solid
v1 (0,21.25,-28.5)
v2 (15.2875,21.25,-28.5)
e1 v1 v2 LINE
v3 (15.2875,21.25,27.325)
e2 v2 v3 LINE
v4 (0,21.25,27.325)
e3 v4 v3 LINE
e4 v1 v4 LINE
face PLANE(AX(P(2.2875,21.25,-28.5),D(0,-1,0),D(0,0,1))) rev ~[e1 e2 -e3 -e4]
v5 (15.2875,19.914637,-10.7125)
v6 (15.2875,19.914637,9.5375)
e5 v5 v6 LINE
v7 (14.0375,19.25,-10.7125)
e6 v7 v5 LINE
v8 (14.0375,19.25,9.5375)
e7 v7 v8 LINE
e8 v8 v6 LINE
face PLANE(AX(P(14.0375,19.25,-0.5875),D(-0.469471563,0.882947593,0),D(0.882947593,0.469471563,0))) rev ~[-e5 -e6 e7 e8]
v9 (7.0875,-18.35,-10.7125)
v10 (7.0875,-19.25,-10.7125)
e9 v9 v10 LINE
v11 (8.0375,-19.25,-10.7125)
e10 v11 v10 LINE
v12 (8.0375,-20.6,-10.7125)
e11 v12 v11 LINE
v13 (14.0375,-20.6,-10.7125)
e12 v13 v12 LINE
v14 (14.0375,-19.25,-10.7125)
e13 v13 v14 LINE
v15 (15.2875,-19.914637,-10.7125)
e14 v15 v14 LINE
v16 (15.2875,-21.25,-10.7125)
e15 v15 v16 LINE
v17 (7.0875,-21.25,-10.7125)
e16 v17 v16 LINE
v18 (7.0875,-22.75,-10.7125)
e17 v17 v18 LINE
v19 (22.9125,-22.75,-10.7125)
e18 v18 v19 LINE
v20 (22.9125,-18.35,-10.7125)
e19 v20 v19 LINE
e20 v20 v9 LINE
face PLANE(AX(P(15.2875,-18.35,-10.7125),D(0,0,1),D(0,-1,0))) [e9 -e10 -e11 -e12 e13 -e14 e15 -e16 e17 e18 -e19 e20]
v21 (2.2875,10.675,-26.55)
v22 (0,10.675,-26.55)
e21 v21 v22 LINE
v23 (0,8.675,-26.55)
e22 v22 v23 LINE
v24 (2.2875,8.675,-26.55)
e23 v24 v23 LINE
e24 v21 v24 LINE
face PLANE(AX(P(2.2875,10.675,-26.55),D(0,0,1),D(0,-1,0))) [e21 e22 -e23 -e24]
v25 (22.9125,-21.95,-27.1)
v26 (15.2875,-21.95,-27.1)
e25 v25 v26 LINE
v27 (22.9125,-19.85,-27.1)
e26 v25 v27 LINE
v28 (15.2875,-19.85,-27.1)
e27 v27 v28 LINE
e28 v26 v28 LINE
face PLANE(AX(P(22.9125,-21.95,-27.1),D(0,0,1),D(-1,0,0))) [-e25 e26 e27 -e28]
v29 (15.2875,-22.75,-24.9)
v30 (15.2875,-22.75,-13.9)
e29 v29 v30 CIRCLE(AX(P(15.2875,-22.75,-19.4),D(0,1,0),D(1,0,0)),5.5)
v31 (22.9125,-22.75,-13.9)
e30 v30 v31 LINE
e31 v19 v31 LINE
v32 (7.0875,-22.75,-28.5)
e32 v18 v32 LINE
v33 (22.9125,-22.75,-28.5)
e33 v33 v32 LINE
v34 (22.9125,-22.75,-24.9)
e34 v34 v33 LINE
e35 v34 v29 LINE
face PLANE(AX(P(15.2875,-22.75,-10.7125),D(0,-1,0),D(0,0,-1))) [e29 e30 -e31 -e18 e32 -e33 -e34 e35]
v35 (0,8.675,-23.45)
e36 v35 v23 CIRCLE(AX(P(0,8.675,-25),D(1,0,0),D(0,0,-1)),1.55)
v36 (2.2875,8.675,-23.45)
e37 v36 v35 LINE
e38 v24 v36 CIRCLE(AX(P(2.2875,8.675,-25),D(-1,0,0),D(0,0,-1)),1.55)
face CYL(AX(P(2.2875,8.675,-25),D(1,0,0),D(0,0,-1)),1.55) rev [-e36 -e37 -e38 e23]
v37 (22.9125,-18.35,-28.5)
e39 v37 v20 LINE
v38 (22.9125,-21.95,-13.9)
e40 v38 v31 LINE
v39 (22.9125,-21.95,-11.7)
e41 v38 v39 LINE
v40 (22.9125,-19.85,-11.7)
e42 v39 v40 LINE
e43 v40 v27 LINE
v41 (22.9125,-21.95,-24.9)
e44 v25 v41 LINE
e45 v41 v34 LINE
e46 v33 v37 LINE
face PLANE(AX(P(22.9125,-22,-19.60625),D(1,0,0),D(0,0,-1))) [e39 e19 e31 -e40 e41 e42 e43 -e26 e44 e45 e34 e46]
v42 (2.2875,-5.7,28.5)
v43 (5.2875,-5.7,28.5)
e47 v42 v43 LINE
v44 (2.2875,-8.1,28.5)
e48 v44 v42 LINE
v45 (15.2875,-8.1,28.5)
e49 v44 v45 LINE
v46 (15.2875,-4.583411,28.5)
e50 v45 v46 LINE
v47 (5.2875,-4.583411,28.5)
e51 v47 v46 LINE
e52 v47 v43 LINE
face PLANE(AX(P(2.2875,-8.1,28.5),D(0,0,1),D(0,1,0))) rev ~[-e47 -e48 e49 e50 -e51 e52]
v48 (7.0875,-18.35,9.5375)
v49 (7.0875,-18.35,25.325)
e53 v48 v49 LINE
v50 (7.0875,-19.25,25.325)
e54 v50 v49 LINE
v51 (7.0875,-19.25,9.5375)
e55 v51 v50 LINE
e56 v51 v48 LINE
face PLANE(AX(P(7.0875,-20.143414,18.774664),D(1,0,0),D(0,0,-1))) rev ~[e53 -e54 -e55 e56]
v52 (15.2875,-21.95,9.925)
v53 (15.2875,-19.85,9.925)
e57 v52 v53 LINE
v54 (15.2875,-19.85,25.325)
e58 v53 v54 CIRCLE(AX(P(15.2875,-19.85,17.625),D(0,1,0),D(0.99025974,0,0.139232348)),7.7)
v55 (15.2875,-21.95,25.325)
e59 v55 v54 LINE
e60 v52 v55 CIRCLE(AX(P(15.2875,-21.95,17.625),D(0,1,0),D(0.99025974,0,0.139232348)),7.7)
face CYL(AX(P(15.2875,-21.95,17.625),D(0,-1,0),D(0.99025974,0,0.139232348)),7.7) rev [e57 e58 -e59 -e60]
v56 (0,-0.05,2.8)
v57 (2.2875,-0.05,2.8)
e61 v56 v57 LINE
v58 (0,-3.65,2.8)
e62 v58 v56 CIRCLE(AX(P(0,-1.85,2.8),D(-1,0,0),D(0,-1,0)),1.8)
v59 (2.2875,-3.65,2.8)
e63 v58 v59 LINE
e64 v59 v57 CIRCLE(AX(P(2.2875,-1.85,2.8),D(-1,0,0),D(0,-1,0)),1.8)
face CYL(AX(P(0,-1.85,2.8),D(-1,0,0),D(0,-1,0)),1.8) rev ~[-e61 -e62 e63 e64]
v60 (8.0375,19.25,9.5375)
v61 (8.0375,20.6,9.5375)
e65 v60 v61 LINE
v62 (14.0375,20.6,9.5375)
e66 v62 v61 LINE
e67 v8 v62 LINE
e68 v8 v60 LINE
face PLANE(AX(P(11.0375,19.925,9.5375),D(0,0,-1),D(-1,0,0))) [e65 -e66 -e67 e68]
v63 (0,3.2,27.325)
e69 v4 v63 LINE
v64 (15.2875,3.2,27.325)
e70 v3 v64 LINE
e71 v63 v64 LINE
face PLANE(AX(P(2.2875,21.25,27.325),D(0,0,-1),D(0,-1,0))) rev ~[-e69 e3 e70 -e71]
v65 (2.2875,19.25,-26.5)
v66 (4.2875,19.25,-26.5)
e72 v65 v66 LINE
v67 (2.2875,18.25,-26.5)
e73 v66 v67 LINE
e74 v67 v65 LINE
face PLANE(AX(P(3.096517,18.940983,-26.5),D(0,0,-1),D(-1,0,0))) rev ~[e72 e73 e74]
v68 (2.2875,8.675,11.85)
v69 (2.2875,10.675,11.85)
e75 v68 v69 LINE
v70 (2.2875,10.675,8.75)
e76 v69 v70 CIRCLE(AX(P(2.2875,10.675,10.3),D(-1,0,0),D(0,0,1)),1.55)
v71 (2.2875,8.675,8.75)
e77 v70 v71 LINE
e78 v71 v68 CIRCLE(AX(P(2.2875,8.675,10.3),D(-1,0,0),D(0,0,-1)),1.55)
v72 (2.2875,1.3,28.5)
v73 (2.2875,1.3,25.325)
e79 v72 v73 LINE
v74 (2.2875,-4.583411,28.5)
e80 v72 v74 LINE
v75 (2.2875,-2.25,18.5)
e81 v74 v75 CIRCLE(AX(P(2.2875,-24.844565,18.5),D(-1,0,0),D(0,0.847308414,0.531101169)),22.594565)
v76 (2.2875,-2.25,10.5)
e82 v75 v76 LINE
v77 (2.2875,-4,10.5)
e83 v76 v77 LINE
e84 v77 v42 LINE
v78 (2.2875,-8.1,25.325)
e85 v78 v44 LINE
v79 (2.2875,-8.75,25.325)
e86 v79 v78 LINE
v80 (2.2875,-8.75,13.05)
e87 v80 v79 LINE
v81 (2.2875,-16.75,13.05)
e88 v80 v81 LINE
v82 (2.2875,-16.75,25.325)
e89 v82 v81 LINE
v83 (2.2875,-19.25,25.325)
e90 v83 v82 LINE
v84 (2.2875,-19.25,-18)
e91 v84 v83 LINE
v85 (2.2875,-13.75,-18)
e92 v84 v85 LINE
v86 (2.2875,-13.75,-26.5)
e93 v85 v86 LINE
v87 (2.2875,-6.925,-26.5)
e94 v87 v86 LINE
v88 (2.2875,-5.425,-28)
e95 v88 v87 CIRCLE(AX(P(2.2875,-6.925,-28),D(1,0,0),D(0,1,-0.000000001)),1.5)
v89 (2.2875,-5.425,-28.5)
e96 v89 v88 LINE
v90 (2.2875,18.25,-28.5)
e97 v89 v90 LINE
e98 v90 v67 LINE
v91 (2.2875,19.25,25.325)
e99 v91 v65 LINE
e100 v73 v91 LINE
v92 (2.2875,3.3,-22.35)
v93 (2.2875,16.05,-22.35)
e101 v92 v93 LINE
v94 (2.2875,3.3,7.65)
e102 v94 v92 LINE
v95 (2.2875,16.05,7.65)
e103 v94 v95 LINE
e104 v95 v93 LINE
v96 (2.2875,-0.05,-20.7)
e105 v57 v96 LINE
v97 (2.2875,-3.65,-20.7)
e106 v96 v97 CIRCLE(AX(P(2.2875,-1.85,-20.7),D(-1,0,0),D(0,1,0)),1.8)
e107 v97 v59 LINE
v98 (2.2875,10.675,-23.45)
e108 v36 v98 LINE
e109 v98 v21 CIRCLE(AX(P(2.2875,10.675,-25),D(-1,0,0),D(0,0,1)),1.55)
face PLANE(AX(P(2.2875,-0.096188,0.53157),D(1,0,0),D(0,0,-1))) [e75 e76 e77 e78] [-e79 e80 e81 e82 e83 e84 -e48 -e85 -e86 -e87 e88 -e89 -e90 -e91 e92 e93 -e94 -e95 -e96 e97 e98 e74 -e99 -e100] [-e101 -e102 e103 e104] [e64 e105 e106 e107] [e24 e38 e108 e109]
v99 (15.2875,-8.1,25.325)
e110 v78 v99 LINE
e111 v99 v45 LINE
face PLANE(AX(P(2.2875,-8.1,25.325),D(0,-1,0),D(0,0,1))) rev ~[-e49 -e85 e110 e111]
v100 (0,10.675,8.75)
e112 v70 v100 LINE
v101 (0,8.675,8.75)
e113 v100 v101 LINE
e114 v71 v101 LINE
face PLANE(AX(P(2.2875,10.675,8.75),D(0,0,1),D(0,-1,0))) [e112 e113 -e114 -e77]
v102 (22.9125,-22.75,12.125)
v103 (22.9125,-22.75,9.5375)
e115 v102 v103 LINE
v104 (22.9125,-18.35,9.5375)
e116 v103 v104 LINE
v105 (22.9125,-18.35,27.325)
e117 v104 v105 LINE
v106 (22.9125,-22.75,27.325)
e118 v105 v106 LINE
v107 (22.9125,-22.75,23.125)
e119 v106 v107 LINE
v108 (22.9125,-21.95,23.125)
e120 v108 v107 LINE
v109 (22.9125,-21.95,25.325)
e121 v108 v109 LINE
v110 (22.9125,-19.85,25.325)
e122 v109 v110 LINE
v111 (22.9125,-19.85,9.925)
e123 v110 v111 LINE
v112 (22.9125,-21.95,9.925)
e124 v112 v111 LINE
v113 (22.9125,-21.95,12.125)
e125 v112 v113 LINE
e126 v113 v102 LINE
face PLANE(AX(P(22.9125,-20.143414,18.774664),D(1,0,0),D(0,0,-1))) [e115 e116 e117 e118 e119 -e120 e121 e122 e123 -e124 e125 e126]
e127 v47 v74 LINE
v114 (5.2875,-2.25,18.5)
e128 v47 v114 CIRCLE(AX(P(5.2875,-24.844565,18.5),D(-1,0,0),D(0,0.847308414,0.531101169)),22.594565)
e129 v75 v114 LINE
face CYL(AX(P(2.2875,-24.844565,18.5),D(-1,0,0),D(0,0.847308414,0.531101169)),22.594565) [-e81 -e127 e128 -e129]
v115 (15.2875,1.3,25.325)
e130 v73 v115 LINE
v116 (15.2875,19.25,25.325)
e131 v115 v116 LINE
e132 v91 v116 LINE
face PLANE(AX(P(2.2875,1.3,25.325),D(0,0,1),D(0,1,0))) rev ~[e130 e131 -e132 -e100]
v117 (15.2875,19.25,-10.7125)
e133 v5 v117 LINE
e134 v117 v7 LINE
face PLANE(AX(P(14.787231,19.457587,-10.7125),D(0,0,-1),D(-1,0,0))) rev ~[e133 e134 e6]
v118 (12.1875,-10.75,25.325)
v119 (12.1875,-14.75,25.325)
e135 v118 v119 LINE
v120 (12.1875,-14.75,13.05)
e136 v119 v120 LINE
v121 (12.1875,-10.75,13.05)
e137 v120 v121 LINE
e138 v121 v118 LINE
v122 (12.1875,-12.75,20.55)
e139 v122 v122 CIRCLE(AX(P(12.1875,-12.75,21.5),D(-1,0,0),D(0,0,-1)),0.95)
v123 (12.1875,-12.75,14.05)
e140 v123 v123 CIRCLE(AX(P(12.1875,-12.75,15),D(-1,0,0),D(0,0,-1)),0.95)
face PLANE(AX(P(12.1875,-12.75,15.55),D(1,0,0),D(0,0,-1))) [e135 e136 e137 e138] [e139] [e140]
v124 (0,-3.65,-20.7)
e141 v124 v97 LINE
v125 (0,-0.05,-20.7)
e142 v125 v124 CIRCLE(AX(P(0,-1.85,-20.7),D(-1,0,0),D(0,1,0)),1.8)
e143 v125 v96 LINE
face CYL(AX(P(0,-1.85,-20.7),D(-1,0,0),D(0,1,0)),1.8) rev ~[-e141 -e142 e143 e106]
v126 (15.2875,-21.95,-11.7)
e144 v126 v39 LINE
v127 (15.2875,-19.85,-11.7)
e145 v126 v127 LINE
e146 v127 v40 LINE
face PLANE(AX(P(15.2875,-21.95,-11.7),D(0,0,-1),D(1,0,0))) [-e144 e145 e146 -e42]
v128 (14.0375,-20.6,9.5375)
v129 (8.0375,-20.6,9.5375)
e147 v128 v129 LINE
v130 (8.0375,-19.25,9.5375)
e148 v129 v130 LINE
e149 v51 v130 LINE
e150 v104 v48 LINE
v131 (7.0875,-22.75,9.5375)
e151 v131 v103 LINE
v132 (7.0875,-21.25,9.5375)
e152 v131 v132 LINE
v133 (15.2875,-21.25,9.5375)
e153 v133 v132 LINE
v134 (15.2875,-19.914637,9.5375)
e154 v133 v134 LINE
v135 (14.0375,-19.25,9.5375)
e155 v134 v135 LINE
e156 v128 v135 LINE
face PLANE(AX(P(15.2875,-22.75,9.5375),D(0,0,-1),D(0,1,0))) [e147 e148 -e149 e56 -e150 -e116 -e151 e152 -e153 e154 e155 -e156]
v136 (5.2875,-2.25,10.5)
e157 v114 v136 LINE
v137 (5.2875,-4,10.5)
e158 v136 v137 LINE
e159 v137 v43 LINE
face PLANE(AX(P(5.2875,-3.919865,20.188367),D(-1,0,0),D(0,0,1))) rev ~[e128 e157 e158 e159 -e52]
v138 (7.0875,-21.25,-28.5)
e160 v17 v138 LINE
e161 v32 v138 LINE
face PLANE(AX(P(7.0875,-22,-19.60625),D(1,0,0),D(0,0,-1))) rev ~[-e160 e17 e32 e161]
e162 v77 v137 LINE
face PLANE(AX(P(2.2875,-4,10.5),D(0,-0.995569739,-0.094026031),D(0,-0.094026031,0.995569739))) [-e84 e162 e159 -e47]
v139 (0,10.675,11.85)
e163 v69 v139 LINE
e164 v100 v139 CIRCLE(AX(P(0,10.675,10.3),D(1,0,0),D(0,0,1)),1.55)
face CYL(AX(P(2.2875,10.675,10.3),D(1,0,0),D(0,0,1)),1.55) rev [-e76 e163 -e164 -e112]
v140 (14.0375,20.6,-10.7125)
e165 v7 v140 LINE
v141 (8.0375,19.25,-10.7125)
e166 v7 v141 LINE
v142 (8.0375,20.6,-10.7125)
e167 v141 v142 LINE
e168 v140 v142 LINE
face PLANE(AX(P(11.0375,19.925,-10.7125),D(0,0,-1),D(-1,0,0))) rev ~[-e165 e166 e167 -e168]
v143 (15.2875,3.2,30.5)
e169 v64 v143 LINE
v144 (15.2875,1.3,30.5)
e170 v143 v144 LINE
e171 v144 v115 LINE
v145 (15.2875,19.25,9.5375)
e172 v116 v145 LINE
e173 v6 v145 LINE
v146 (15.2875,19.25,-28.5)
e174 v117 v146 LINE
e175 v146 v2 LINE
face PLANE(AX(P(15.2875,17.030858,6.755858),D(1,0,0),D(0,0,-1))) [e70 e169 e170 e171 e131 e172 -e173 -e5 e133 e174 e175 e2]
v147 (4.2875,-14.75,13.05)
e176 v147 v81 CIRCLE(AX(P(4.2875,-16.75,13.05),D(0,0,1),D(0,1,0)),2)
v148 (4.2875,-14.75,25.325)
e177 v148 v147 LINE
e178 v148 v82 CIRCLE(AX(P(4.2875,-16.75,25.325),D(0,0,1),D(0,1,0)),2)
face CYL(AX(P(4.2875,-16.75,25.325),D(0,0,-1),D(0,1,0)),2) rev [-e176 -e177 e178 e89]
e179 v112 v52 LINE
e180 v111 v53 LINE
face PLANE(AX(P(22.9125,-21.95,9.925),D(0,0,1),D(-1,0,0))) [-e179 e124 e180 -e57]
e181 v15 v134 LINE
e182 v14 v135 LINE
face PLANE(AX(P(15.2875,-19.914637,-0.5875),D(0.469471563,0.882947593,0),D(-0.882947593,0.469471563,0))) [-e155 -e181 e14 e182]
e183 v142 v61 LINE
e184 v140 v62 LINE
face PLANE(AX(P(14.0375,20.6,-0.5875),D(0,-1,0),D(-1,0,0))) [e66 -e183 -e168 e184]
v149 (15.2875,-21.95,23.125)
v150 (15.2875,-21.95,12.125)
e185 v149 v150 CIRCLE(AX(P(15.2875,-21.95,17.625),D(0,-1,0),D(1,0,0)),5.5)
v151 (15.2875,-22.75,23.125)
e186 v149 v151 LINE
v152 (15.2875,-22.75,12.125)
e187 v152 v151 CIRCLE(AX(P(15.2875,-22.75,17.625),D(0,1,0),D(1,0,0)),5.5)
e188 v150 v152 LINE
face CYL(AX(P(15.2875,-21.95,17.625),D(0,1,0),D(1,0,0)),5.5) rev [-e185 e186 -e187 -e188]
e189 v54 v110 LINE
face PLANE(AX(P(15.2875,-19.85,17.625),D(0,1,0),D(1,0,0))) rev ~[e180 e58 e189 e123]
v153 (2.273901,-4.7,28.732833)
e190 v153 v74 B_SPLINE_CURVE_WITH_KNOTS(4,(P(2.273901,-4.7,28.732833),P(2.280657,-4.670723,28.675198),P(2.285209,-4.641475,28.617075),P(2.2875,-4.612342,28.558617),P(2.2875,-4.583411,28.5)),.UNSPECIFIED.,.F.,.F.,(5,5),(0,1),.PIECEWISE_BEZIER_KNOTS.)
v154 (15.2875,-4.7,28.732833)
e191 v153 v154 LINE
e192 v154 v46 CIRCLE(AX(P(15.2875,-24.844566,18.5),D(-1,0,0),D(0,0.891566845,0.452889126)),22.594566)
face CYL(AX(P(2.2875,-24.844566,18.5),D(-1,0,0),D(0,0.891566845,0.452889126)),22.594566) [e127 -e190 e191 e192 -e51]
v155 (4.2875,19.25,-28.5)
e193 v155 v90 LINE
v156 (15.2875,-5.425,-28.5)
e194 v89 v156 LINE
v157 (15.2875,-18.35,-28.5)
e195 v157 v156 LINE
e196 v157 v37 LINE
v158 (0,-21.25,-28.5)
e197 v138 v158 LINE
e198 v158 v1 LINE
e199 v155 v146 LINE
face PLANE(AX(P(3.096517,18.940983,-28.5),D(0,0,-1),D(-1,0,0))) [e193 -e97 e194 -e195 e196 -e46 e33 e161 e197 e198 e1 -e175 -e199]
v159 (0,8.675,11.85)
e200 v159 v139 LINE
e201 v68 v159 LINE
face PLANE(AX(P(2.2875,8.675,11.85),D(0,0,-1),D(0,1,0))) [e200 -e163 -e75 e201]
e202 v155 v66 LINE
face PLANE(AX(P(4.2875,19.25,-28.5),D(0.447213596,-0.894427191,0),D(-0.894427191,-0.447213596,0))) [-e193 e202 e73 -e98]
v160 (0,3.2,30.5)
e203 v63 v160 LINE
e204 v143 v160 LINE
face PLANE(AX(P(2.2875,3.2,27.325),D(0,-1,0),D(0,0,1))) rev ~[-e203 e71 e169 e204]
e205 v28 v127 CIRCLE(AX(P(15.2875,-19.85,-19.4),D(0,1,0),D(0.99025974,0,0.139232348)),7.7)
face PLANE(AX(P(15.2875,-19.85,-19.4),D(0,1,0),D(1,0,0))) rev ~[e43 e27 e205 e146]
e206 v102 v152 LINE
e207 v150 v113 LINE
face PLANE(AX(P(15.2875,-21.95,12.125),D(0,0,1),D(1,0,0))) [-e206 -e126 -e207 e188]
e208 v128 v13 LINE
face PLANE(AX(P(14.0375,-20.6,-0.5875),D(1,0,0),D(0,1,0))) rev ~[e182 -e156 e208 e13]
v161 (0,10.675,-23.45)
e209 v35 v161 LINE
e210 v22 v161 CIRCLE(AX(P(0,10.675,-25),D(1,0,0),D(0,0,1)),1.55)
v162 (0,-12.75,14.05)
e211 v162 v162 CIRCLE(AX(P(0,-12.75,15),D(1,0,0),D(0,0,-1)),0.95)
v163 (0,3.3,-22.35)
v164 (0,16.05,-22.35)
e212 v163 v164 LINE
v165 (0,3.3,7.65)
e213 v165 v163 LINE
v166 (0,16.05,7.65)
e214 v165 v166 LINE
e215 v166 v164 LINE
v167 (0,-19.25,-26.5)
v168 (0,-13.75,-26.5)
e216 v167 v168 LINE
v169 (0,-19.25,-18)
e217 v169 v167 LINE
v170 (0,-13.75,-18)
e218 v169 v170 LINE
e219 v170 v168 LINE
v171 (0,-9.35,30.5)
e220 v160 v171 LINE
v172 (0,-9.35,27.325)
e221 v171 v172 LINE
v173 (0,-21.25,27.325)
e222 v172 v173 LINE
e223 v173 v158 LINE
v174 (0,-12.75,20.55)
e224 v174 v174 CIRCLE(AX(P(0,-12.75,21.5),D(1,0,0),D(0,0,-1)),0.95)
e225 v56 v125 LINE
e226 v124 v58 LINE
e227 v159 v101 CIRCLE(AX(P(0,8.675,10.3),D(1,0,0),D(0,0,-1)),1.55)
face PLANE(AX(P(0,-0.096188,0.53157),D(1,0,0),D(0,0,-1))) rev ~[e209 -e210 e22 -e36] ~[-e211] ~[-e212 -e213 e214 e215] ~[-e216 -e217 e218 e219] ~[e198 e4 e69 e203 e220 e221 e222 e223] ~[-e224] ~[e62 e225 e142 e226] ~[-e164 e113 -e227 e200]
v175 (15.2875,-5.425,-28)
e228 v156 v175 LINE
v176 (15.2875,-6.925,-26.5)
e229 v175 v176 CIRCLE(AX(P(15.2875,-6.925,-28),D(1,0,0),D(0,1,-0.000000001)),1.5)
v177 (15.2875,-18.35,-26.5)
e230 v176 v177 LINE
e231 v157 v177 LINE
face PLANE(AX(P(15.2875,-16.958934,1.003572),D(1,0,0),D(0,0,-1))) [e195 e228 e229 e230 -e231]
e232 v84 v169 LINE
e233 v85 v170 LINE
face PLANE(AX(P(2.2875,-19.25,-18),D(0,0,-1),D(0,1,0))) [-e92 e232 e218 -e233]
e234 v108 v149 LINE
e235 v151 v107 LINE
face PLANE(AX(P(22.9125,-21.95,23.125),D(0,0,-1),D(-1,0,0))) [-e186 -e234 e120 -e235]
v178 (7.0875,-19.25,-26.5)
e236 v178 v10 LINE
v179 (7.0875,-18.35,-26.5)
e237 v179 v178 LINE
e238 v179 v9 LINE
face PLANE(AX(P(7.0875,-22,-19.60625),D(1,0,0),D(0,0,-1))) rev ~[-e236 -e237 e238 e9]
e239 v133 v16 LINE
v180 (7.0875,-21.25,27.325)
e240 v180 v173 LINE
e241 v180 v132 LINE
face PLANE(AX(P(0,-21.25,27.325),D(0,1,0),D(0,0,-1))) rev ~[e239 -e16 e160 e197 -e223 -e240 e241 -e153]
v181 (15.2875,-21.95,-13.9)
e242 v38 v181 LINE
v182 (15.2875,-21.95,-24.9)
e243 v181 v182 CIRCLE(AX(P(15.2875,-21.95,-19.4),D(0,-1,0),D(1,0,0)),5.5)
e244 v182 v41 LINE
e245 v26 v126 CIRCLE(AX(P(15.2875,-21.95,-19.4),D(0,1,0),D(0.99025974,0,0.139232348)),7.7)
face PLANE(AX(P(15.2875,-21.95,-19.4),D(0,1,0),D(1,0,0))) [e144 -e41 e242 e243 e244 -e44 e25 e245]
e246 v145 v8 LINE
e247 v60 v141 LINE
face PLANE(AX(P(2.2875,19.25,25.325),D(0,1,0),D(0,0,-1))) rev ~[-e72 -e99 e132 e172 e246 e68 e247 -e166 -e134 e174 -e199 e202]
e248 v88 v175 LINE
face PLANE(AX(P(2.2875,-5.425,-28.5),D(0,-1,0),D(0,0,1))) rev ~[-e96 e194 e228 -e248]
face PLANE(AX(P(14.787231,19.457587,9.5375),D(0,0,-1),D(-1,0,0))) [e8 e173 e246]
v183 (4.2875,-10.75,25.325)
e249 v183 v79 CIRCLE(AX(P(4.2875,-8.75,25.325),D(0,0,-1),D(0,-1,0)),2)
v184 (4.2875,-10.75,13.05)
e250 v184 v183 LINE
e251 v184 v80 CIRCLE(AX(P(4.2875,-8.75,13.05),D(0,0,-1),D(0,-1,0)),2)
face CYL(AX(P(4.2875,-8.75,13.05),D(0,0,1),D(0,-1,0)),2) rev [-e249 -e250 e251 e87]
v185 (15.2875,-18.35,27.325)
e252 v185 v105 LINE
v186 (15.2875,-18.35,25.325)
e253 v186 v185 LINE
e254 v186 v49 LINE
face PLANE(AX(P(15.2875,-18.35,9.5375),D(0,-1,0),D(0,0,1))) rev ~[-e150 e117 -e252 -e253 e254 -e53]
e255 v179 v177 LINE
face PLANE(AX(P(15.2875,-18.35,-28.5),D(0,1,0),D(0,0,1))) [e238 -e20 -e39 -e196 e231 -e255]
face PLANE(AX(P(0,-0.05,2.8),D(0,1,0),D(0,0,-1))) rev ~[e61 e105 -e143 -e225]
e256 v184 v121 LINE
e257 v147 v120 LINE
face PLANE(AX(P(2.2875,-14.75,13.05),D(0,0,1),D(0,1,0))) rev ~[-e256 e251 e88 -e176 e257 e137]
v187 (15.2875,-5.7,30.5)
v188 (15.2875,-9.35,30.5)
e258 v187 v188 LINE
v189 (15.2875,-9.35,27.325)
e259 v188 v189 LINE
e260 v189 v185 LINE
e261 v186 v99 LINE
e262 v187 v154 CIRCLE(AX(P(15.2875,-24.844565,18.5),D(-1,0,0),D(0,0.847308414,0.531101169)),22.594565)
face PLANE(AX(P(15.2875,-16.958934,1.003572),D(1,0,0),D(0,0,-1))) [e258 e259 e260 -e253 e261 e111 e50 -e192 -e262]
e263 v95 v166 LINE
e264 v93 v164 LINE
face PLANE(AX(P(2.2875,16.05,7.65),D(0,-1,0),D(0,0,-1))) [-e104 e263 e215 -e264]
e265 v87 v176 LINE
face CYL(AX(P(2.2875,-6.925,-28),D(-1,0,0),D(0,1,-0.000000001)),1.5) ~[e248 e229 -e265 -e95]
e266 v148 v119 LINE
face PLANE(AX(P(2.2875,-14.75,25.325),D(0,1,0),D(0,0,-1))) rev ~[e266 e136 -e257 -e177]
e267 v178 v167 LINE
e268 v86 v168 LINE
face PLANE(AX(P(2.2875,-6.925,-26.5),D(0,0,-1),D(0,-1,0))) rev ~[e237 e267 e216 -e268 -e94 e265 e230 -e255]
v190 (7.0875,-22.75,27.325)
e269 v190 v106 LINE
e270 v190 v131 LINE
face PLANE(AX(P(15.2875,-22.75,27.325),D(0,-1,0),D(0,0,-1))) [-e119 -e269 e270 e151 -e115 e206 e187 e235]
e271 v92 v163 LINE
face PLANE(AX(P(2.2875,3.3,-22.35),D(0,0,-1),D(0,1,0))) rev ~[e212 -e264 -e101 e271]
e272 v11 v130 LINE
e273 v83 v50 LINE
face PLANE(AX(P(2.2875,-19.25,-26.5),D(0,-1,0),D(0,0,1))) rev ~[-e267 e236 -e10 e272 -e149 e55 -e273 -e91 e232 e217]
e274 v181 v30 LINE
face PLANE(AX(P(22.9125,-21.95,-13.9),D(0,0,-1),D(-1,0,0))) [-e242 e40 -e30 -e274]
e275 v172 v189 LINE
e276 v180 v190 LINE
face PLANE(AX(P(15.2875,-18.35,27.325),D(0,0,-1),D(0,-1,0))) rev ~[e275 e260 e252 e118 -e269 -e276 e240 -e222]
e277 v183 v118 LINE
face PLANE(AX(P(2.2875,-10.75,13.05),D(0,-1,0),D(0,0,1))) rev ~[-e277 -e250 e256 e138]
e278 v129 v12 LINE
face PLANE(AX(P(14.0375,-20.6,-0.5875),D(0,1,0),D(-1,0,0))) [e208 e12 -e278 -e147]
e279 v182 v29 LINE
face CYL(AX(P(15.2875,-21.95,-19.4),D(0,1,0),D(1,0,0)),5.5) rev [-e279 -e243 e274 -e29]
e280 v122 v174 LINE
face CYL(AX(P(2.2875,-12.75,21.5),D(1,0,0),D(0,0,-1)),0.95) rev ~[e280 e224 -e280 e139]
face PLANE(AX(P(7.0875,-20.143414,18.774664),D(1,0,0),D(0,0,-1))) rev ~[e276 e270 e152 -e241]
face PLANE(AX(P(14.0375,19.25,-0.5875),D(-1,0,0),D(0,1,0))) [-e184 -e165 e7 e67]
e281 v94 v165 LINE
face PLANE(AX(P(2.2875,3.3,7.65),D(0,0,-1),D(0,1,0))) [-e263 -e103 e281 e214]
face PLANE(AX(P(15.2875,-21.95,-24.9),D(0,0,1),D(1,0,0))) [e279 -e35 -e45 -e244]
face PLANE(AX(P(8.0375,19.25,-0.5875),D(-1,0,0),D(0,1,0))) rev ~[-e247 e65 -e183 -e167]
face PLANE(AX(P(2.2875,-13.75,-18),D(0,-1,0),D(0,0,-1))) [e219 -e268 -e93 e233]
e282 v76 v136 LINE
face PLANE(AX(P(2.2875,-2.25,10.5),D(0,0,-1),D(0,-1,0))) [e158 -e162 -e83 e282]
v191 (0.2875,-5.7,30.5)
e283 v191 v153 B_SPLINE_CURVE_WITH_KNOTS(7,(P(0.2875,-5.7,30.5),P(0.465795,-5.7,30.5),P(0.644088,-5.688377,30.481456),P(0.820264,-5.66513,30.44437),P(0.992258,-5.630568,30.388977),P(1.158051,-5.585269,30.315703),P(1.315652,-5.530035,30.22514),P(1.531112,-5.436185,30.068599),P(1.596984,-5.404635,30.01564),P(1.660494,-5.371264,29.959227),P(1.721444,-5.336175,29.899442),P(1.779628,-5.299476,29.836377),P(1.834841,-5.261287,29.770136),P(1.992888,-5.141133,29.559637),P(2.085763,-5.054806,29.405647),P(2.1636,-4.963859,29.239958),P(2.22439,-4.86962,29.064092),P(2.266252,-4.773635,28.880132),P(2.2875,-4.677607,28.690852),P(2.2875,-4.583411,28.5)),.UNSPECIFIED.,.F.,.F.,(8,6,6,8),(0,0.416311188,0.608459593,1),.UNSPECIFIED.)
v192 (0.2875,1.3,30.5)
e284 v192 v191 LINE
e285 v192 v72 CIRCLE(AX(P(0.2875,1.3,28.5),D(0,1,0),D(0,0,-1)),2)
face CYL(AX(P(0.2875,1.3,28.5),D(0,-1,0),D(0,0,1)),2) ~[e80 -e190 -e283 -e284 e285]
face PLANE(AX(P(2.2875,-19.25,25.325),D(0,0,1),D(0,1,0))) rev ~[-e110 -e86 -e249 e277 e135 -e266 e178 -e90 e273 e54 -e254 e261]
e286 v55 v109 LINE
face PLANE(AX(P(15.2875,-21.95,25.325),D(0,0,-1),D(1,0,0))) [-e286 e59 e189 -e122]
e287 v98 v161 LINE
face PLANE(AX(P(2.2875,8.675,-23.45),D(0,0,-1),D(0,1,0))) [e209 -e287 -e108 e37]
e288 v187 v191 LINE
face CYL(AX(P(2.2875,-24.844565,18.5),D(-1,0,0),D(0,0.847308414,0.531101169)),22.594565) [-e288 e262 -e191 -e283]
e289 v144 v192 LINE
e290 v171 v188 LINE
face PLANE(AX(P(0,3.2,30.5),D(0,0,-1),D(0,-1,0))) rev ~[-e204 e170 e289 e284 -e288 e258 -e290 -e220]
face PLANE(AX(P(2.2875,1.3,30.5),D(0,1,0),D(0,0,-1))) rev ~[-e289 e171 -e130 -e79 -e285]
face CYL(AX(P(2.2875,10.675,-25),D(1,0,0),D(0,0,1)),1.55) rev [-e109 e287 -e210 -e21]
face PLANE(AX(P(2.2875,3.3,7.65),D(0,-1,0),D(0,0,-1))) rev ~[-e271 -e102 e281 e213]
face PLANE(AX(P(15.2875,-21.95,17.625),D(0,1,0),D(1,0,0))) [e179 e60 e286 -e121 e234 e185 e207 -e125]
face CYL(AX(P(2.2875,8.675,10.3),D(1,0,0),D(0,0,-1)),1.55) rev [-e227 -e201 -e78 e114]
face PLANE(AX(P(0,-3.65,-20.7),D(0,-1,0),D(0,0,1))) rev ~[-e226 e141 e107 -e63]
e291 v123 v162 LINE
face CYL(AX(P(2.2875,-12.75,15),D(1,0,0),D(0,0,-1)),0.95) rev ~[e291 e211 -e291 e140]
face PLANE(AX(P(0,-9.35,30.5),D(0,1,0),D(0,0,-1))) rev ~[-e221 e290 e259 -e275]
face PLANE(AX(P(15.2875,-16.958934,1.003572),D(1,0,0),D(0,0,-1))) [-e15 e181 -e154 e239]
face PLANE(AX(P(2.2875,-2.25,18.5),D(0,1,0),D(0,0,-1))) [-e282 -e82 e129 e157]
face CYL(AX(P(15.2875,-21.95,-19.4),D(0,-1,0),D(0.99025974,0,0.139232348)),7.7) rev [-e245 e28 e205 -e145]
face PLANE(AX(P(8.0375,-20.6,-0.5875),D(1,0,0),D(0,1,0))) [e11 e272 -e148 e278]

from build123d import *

# Parameters (mm, degrees)
MAIN_EXTRUDE_DEPTH            = 2.2875
WALLS_START                   = 2.2875
WALLS_DEPTH                   = 13
CORNER_SUPPORT_DEPTH          = 2
SKETCH2_R                     = 0.95
SKETCH2_W                     = 2.4
SKETCH2_H                     = 4
SKETCH2_W_2                   = 1
SWITCH_SPACER_DEPTH           = 9.9
ARM_SUPPORT_EXTRUDE_DEPTH     = 3
ARM_SUPPORT_CURVE_DEPTH       = 40.380356778
FILLET4_R                     = 2
FILLET3_R                     = 2
SKETCH2_5_R                   = 0.95
SWITCH_MOUNT_HOLES_DEPTH      = 40.380356889
SWITCH_MOUNT_HOLES_DEPTH_BACK = 40.380356889
SKETCH4_W                     = 8.5
SKETCH4_H                     = 5.5
WIRE_HOLE_DEPTH               = 40.380356889
SKETCH25_W                    = 6
SKETCH25_H                    = 1.35
FEMALE_SNAP_DEPTH             = 10.125
SKETCH5_W                     = 30
SKETCH5_H                     = 12.75
SERVO_HOLE_DEPTH              = 40.380356889
SKETCH30_W                    = 15.7875
SKETCH30_H                    = 0.9
SKETCH30_W_2                  = 17.7875
SKETCH30_H_2                  = 1.5
MAGNET_EXTRUDE_1_DEPTH        = 7.625
MAGNET_EXTRUDE_1_DEPTH_BACK   = 8.2
SKETCH29_R                    = 7.7
MAGNET_HOLE_DEPTH             = 2.1
SKETCH31_R                    = 5.5
MAGNET_THRU_HOLE_DEPTH        = 58.632218961


with BuildPart() as part:
    # Sketch1 → Main Extrude (new body)
    with BuildSketch(Plane(origin=(0, 0, 0), x_dir=(0, 0, -1), z_dir=(1, 0, 0))):
        Polygon((-30.5, -9.35), (-27.325, -9.35), (-27.325, -21.25), (28.5, -21.25), (28.5, 21.25), (-27.325, 21.25), (-27.325, 3.2), (-30.5, 3.2), align=None)
        with BuildLine():
            Line((20.7, -3.65), (-2.8, -3.65))
            ThreePointArc((-2.8, -3.65), (-4.6, -1.85), (-2.8, -0.05))
            Line((-2.8, -0.05), (20.7, -0.05))
            ThreePointArc((20.7, -0.05), (22.5, -1.85), (20.7, -3.65))
        make_face(mode=Mode.SUBTRACT)
    extrude(amount=MAIN_EXTRUDE_DEPTH)

    # Sketch1_3 → Walls (add)
    with BuildSketch(Plane(origin=(0, 0, 0), x_dir=(0, 0, -1), z_dir=(1, 0, 0)).offset(WALLS_START)):
        Polygon((-25.325, 19.25), (28.5, 19.25), (28.5, 21.25), (-27.325, 21.25), (-27.325, 3.2), (-30.5, 3.2), (-30.5, 1.3), (-25.325, 1.3), align=None)
        with BuildLine():
            Line((28.5, -5.425), (28, -5.425))
            ThreePointArc((28, -5.425), (26.939339828, -5.864339828), (26.5, -6.925))
            Line((26.5, -6.925), (26.5, -19.25))
            Line((26.5, -19.25), (-25.325, -19.25))
            Line((-25.325, -19.25), (-25.325, -8.1))
            Line((-25.325, -8.1), (-28.5, -8.1))
            Line((-28.5, -8.1), (-28.5, -4.45))
            Line((-28.5, -4.45), (-30.5, -4.45))
            Line((-30.5, -4.45), (-30.5, -9.35))
            Line((-30.5, -9.35), (-27.325, -9.35))
            Line((-27.325, -9.35), (-27.325, -21.25))
            Line((-27.325, -21.25), (28.5, -21.25))
            Line((28.5, -21.25), (28.5, -5.425))
        make_face()
    extrude(amount=WALLS_DEPTH)

    # Sketch22 → Corner Support (add)
    with BuildSketch(Plane(origin=(0, 0, -28.5), x_dir=(-1, 0, 0), z_dir=(0, 0, -1))):
        Polygon((-4.2875, 19.25), (-2.2875, 18.25), (-2.2875, 19.25), align=None)
    extrude(amount=-CORNER_SUPPORT_DEPTH)

    # Sketch2 → Switch Spacer (add)
    with BuildSketch(Plane(origin=(2.2875, 0, 0), x_dir=(0, 0, -1), z_dir=(1, 0, 0))):
        Polygon((-14.05, -10.75), (-17.05, -10.75), (-17.05, -14.75), (-14.05, -14.75), (-14.05, -12.75), align=None)
        with Locations((-15, -12.75)):
            Circle(SKETCH2_R, mode=Mode.SUBTRACT)
        with Locations((-15, -12.75)):
            Circle(SKETCH2_R)
        Polygon((-19.45, -10.75), (-22.45, -10.75), (-22.45, -12.75), (-22.45, -14.75), (-19.45, -14.75), align=None)
        with BuildLine():
            ThreePointArc((-20.55, -12.75), (-21.5, -13.7), (-22.45, -12.75))
            ThreePointArc((-22.45, -12.75), (-21.5, -11.8), (-20.55, -12.75))
        make_face(mode=Mode.SUBTRACT)
        with Locations((-21.5, -12.75)):
            Circle(SKETCH2_R)
        Polygon((-22.45, -12.75), (-22.45, -10.75), (-25.325, -10.75), (-25.325, -14.75), (-22.45, -14.75), align=None)
        with Locations((-18.25, -12.75)):
            Rectangle(SKETCH2_W, SKETCH2_H)
        with Locations((-13.55, -12.75)):
            Rectangle(SKETCH2_W_2, SKETCH2_H)
    extrude(amount=SWITCH_SPACER_DEPTH)

    # Sketch3 → Arm Support Extrude (add)
    with BuildSketch(Plane(origin=(2.2875, 0, 0), x_dir=(0, 0, -1), z_dir=(1, 0, 0))):
        with BuildLine():
            Line((-18.5, -2.25), (-10.5, -2.25))
            Line((-10.5, -2.25), (-10.5, -4))
            Line((-10.5, -4), (-28.5, -5.7))
            Line((-28.5, -5.7), (-30.5, -5.7))
            ThreePointArc((-30.5, -5.7), (-24.743046131, -3.129622151), (-18.5, -2.25))
        make_face()
    extrude(amount=ARM_SUPPORT_EXTRUDE_DEPTH)

    # Sketch7 → Arm Support Curve (cut, through all)
    with BuildSketch(Plane(origin=(2.2875, 0, 0), x_dir=(0, 0, -1), z_dir=(1, 0, 0))):
        with BuildLine():
            Line((-28.5, -4.583410824), (-28.5, -4.45))
            Line((-28.5, -4.45), (-30.5, -4.45))
            Line((-30.5, -4.45), (-30.5, -5.7))
            ThreePointArc((-30.5, -5.7), (-29.627655409, -5.180138898), (-28.73283292, -4.7))
            ThreePointArc((-28.73283292, -4.7), (-28.616584416, -4.641369997), (-28.5, -4.583410824))
        make_face()
    extrude(amount=ARM_SUPPORT_CURVE_DEPTH, mode=Mode.SUBTRACT)

    # Fillet4
    fillet4_edges = [part.edges().sort_by_distance(p)[0] for p in [
        (2.2875, -2.2, 30.5),
    ]]
    fillet(fillet4_edges, radius=FILLET4_R)

    # Fillet3
    fillet3_edges = [part.edges().sort_by_distance(p)[0] for p in [
        (2.2875, -14.75, 19.1875),
        (2.2875, -10.75, 19.1875),
    ]]
    fillet(fillet3_edges, radius=FILLET3_R)

    # Sketch2_5 → Switch Mount Holes (cut, two sides)
    with BuildSketch(Plane(origin=(2.2875, 0, 0), x_dir=(0, 0, -1), z_dir=(1, 0, 0))) as switch_mount_holes_sk:
        with Locations((-21.5, -12.75)):
            Circle(SKETCH2_5_R)
        with Locations((-15, -12.75)):
            Circle(SKETCH2_5_R)
    extrude(amount=SWITCH_MOUNT_HOLES_DEPTH, mode=Mode.SUBTRACT)
    extrude(switch_mount_holes_sk.sketch, amount=-SWITCH_MOUNT_HOLES_DEPTH_BACK, mode=Mode.SUBTRACT)

    # Sketch4 → Wire Hole (cut, through all)
    with BuildSketch(Plane(origin=(2.2875, 0, 0), x_dir=(0, 0, -1), z_dir=(1, 0, 0))):
        with Locations((22.25, -16.5)):
            Rectangle(SKETCH4_W, SKETCH4_H)
    extrude(amount=-WIRE_HOLE_DEPTH, mode=Mode.SUBTRACT)

    # Sketch25 → Female Snap (cut, symmetric)
    with BuildSketch(Plane(origin=(0, 0, -0.5875), x_dir=(-1, 0, 0), z_dir=(0, 0, -1))):
        with Locations((-11.0375, -19.925)):
            Rectangle(SKETCH25_W, SKETCH25_H)
        Polygon((-15.2875, -19.25), (-15.2875, -19.91463679), (-14.0375, -19.25), align=None)
        with Locations((-11.0375, 19.925)):
            Rectangle(SKETCH25_W, SKETCH25_H)
        Polygon((-15.2875, 19.91463679), (-15.2875, 19.25), (-14.0375, 19.25), align=None)
    extrude(amount=FEMALE_SNAP_DEPTH, both=True, mode=Mode.SUBTRACT)

    # Sketch5 → Servo Hole (cut, through all)
    with BuildSketch(Plane(origin=(2.2875, 0, 0), x_dir=(0, 0, -1), z_dir=(1, 0, 0))):
        with Locations((7.35, 9.675)):
            Rectangle(SKETCH5_W, SKETCH5_H)
        with BuildLine():
            Line((-8.75, 10.675), (-8.75, 8.675))
            ThreePointArc((-8.75, 8.675), (-10.3, 7.125), (-11.85, 8.675))
            Line((-11.85, 8.675), (-11.85, 10.675))
            ThreePointArc((-11.85, 10.675), (-10.3, 12.225), (-8.75, 10.675))
        make_face()
        with BuildLine():
            Line((26.55, 10.675), (26.55, 8.675))
            ThreePointArc((26.55, 8.675), (25, 7.125), (23.45, 8.675))
            Line((23.45, 8.675), (23.45, 10.675))
            ThreePointArc((23.45, 10.675), (25, 12.225), (26.55, 10.675))
        make_face()
    extrude(amount=-SERVO_HOLE_DEPTH, mode=Mode.SUBTRACT)

    # Sketch30 → Magnet Extrude 1 (add, two sides)
    with BuildSketch(Plane(origin=(15.2875, 0, 0), x_dir=(0, 0, -1), z_dir=(1, 0, 0))) as magnet_extrude_1_sk:
        Polygon((-27.325, -18.35), (-27.325, -21.25), (-9.5375, -21.25), (-9.5375, -19.91463679), (-9.5375, -19.25), (-25.325, -19.25), (-25.325, -18.35), align=None)
        with Locations((-17.43125, -18.8)):
            Rectangle(SKETCH30_W, SKETCH30_H)
        with Locations((19.60625, -22)):
            Rectangle(SKETCH30_W_2, SKETCH30_H_2)
        Polygon((10.7125, -19.91463679), (10.7125, -21.25), (28.5, -21.25), (28.5, -18.35), (26.5, -18.35), (26.5, -19.25), (10.7125, -19.25), align=None)
        with Locations((-18.43125, -22)):
            Rectangle(SKETCH30_W_2, SKETCH30_H_2)
        with Locations((18.60625, -18.8)):
            Rectangle(SKETCH30_W, SKETCH30_H)
    extrude(amount=MAGNET_EXTRUDE_1_DEPTH)
    extrude(magnet_extrude_1_sk.sketch, amount=-MAGNET_EXTRUDE_1_DEPTH_BACK)

    # Sketch29 → Magnet Hole (cut)
    with BuildSketch(Plane(origin=(0, -21.95, 0), x_dir=(1, 0, 0), z_dir=(0, 1, 0))):
        with Locations((15.2875, -17.625)):
            Circle(SKETCH29_R)
        with BuildLine():
            ThreePointArc((22.9125, -18.697089082), (20.338980677, -23.436414885), (15.2875, -25.325))
            Line((15.2875, -25.325), (22.9125, -25.325))
            Line((22.9125, -25.325), (22.9125, -18.697089082))
        make_face()
        with BuildLine():
            Line((22.9125, -9.925), (15.2875, -9.925))
            ThreePointArc((15.2875, -9.925), (20.338980677, -11.813585115), (22.9125, -16.552910918))
            Line((22.9125, -16.552910918), (22.9125, -9.925))
        make_face()
        with Locations((15.2875, 19.4)):
            Circle(SKETCH29_R)
        with BuildLine():
            ThreePointArc((22.9125, 18.327910918), (20.338980677, 13.588585115), (15.2875, 11.7))
            Line((15.2875, 11.7), (22.9125, 11.7))
            Line((22.9125, 11.7), (22.9125, 18.327910918))
        make_face()
        with BuildLine():
            Line((22.9125, 27.1), (15.2875, 27.1))
            ThreePointArc((15.2875, 27.1), (20.338980677, 25.211414885), (22.9125, 20.472089082))
            Line((22.9125, 20.472089082), (22.9125, 27.1))
        make_face()
        with BuildLine():
            ThreePointArc((22.9875, -17.625), (22.968727116, -17.087645368), (22.9125, -16.552910918))
            Line((22.9125, -16.552910918), (22.9125, -18.697089082))
            ThreePointArc((22.9125, -18.697089082), (22.968727116, -18.162354632), (22.9875, -17.625))
        make_face()
        with BuildLine():
            Line((22.9125, 20.472089082), (22.9125, 18.327910918))
            ThreePointArc((22.9125, 18.327910918), (22.968727116, 18.862645368), (22.9875, 19.4))
            ThreePointArc((22.9875, 19.4), (22.968727116, 19.937354632), (22.9125, 20.472089082))
        make_face()
    extrude(amount=MAGNET_HOLE_DEPTH, mode=Mode.SUBTRACT)

    # Sketch31 → Magnet Thru Hole (cut, through all)
    with BuildSketch(Plane.XZ.offset(21.95)):
        with Locations((15.2875, 17.625)):
            Circle(SKETCH31_R)
        with BuildLine():
            Line((22.9125, 23.125), (15.2875, 23.125))
            ThreePointArc((15.2875, 23.125), (19.176587297, 21.514087297), (20.7875, 17.625))
            ThreePointArc((20.7875, 17.625), (19.176587297, 13.735912703), (15.2875, 12.125))
            Line((15.2875, 12.125), (22.9125, 12.125))
            Line((22.9125, 12.125), (22.9125, 23.125))
        make_face()
        with Locations((15.2875, -19.4)):
            Circle(SKETCH31_R)
        with BuildLine():
            Line((22.9125, -13.9), (15.2875, -13.9))
            ThreePointArc((15.2875, -13.9), (19.176587297, -15.510912703), (20.7875, -19.4))
            ThreePointArc((20.7875, -19.4), (19.176587297, -23.289087297), (15.2875, -24.9))
            Line((15.2875, -24.9), (22.9125, -24.9))
            Line((22.9125, -24.9), (22.9125, -13.9))
        make_face()
    extrude(amount=MAGNET_THRU_HOLE_DEPTH, mode=Mode.SUBTRACT)


solid = part.part
